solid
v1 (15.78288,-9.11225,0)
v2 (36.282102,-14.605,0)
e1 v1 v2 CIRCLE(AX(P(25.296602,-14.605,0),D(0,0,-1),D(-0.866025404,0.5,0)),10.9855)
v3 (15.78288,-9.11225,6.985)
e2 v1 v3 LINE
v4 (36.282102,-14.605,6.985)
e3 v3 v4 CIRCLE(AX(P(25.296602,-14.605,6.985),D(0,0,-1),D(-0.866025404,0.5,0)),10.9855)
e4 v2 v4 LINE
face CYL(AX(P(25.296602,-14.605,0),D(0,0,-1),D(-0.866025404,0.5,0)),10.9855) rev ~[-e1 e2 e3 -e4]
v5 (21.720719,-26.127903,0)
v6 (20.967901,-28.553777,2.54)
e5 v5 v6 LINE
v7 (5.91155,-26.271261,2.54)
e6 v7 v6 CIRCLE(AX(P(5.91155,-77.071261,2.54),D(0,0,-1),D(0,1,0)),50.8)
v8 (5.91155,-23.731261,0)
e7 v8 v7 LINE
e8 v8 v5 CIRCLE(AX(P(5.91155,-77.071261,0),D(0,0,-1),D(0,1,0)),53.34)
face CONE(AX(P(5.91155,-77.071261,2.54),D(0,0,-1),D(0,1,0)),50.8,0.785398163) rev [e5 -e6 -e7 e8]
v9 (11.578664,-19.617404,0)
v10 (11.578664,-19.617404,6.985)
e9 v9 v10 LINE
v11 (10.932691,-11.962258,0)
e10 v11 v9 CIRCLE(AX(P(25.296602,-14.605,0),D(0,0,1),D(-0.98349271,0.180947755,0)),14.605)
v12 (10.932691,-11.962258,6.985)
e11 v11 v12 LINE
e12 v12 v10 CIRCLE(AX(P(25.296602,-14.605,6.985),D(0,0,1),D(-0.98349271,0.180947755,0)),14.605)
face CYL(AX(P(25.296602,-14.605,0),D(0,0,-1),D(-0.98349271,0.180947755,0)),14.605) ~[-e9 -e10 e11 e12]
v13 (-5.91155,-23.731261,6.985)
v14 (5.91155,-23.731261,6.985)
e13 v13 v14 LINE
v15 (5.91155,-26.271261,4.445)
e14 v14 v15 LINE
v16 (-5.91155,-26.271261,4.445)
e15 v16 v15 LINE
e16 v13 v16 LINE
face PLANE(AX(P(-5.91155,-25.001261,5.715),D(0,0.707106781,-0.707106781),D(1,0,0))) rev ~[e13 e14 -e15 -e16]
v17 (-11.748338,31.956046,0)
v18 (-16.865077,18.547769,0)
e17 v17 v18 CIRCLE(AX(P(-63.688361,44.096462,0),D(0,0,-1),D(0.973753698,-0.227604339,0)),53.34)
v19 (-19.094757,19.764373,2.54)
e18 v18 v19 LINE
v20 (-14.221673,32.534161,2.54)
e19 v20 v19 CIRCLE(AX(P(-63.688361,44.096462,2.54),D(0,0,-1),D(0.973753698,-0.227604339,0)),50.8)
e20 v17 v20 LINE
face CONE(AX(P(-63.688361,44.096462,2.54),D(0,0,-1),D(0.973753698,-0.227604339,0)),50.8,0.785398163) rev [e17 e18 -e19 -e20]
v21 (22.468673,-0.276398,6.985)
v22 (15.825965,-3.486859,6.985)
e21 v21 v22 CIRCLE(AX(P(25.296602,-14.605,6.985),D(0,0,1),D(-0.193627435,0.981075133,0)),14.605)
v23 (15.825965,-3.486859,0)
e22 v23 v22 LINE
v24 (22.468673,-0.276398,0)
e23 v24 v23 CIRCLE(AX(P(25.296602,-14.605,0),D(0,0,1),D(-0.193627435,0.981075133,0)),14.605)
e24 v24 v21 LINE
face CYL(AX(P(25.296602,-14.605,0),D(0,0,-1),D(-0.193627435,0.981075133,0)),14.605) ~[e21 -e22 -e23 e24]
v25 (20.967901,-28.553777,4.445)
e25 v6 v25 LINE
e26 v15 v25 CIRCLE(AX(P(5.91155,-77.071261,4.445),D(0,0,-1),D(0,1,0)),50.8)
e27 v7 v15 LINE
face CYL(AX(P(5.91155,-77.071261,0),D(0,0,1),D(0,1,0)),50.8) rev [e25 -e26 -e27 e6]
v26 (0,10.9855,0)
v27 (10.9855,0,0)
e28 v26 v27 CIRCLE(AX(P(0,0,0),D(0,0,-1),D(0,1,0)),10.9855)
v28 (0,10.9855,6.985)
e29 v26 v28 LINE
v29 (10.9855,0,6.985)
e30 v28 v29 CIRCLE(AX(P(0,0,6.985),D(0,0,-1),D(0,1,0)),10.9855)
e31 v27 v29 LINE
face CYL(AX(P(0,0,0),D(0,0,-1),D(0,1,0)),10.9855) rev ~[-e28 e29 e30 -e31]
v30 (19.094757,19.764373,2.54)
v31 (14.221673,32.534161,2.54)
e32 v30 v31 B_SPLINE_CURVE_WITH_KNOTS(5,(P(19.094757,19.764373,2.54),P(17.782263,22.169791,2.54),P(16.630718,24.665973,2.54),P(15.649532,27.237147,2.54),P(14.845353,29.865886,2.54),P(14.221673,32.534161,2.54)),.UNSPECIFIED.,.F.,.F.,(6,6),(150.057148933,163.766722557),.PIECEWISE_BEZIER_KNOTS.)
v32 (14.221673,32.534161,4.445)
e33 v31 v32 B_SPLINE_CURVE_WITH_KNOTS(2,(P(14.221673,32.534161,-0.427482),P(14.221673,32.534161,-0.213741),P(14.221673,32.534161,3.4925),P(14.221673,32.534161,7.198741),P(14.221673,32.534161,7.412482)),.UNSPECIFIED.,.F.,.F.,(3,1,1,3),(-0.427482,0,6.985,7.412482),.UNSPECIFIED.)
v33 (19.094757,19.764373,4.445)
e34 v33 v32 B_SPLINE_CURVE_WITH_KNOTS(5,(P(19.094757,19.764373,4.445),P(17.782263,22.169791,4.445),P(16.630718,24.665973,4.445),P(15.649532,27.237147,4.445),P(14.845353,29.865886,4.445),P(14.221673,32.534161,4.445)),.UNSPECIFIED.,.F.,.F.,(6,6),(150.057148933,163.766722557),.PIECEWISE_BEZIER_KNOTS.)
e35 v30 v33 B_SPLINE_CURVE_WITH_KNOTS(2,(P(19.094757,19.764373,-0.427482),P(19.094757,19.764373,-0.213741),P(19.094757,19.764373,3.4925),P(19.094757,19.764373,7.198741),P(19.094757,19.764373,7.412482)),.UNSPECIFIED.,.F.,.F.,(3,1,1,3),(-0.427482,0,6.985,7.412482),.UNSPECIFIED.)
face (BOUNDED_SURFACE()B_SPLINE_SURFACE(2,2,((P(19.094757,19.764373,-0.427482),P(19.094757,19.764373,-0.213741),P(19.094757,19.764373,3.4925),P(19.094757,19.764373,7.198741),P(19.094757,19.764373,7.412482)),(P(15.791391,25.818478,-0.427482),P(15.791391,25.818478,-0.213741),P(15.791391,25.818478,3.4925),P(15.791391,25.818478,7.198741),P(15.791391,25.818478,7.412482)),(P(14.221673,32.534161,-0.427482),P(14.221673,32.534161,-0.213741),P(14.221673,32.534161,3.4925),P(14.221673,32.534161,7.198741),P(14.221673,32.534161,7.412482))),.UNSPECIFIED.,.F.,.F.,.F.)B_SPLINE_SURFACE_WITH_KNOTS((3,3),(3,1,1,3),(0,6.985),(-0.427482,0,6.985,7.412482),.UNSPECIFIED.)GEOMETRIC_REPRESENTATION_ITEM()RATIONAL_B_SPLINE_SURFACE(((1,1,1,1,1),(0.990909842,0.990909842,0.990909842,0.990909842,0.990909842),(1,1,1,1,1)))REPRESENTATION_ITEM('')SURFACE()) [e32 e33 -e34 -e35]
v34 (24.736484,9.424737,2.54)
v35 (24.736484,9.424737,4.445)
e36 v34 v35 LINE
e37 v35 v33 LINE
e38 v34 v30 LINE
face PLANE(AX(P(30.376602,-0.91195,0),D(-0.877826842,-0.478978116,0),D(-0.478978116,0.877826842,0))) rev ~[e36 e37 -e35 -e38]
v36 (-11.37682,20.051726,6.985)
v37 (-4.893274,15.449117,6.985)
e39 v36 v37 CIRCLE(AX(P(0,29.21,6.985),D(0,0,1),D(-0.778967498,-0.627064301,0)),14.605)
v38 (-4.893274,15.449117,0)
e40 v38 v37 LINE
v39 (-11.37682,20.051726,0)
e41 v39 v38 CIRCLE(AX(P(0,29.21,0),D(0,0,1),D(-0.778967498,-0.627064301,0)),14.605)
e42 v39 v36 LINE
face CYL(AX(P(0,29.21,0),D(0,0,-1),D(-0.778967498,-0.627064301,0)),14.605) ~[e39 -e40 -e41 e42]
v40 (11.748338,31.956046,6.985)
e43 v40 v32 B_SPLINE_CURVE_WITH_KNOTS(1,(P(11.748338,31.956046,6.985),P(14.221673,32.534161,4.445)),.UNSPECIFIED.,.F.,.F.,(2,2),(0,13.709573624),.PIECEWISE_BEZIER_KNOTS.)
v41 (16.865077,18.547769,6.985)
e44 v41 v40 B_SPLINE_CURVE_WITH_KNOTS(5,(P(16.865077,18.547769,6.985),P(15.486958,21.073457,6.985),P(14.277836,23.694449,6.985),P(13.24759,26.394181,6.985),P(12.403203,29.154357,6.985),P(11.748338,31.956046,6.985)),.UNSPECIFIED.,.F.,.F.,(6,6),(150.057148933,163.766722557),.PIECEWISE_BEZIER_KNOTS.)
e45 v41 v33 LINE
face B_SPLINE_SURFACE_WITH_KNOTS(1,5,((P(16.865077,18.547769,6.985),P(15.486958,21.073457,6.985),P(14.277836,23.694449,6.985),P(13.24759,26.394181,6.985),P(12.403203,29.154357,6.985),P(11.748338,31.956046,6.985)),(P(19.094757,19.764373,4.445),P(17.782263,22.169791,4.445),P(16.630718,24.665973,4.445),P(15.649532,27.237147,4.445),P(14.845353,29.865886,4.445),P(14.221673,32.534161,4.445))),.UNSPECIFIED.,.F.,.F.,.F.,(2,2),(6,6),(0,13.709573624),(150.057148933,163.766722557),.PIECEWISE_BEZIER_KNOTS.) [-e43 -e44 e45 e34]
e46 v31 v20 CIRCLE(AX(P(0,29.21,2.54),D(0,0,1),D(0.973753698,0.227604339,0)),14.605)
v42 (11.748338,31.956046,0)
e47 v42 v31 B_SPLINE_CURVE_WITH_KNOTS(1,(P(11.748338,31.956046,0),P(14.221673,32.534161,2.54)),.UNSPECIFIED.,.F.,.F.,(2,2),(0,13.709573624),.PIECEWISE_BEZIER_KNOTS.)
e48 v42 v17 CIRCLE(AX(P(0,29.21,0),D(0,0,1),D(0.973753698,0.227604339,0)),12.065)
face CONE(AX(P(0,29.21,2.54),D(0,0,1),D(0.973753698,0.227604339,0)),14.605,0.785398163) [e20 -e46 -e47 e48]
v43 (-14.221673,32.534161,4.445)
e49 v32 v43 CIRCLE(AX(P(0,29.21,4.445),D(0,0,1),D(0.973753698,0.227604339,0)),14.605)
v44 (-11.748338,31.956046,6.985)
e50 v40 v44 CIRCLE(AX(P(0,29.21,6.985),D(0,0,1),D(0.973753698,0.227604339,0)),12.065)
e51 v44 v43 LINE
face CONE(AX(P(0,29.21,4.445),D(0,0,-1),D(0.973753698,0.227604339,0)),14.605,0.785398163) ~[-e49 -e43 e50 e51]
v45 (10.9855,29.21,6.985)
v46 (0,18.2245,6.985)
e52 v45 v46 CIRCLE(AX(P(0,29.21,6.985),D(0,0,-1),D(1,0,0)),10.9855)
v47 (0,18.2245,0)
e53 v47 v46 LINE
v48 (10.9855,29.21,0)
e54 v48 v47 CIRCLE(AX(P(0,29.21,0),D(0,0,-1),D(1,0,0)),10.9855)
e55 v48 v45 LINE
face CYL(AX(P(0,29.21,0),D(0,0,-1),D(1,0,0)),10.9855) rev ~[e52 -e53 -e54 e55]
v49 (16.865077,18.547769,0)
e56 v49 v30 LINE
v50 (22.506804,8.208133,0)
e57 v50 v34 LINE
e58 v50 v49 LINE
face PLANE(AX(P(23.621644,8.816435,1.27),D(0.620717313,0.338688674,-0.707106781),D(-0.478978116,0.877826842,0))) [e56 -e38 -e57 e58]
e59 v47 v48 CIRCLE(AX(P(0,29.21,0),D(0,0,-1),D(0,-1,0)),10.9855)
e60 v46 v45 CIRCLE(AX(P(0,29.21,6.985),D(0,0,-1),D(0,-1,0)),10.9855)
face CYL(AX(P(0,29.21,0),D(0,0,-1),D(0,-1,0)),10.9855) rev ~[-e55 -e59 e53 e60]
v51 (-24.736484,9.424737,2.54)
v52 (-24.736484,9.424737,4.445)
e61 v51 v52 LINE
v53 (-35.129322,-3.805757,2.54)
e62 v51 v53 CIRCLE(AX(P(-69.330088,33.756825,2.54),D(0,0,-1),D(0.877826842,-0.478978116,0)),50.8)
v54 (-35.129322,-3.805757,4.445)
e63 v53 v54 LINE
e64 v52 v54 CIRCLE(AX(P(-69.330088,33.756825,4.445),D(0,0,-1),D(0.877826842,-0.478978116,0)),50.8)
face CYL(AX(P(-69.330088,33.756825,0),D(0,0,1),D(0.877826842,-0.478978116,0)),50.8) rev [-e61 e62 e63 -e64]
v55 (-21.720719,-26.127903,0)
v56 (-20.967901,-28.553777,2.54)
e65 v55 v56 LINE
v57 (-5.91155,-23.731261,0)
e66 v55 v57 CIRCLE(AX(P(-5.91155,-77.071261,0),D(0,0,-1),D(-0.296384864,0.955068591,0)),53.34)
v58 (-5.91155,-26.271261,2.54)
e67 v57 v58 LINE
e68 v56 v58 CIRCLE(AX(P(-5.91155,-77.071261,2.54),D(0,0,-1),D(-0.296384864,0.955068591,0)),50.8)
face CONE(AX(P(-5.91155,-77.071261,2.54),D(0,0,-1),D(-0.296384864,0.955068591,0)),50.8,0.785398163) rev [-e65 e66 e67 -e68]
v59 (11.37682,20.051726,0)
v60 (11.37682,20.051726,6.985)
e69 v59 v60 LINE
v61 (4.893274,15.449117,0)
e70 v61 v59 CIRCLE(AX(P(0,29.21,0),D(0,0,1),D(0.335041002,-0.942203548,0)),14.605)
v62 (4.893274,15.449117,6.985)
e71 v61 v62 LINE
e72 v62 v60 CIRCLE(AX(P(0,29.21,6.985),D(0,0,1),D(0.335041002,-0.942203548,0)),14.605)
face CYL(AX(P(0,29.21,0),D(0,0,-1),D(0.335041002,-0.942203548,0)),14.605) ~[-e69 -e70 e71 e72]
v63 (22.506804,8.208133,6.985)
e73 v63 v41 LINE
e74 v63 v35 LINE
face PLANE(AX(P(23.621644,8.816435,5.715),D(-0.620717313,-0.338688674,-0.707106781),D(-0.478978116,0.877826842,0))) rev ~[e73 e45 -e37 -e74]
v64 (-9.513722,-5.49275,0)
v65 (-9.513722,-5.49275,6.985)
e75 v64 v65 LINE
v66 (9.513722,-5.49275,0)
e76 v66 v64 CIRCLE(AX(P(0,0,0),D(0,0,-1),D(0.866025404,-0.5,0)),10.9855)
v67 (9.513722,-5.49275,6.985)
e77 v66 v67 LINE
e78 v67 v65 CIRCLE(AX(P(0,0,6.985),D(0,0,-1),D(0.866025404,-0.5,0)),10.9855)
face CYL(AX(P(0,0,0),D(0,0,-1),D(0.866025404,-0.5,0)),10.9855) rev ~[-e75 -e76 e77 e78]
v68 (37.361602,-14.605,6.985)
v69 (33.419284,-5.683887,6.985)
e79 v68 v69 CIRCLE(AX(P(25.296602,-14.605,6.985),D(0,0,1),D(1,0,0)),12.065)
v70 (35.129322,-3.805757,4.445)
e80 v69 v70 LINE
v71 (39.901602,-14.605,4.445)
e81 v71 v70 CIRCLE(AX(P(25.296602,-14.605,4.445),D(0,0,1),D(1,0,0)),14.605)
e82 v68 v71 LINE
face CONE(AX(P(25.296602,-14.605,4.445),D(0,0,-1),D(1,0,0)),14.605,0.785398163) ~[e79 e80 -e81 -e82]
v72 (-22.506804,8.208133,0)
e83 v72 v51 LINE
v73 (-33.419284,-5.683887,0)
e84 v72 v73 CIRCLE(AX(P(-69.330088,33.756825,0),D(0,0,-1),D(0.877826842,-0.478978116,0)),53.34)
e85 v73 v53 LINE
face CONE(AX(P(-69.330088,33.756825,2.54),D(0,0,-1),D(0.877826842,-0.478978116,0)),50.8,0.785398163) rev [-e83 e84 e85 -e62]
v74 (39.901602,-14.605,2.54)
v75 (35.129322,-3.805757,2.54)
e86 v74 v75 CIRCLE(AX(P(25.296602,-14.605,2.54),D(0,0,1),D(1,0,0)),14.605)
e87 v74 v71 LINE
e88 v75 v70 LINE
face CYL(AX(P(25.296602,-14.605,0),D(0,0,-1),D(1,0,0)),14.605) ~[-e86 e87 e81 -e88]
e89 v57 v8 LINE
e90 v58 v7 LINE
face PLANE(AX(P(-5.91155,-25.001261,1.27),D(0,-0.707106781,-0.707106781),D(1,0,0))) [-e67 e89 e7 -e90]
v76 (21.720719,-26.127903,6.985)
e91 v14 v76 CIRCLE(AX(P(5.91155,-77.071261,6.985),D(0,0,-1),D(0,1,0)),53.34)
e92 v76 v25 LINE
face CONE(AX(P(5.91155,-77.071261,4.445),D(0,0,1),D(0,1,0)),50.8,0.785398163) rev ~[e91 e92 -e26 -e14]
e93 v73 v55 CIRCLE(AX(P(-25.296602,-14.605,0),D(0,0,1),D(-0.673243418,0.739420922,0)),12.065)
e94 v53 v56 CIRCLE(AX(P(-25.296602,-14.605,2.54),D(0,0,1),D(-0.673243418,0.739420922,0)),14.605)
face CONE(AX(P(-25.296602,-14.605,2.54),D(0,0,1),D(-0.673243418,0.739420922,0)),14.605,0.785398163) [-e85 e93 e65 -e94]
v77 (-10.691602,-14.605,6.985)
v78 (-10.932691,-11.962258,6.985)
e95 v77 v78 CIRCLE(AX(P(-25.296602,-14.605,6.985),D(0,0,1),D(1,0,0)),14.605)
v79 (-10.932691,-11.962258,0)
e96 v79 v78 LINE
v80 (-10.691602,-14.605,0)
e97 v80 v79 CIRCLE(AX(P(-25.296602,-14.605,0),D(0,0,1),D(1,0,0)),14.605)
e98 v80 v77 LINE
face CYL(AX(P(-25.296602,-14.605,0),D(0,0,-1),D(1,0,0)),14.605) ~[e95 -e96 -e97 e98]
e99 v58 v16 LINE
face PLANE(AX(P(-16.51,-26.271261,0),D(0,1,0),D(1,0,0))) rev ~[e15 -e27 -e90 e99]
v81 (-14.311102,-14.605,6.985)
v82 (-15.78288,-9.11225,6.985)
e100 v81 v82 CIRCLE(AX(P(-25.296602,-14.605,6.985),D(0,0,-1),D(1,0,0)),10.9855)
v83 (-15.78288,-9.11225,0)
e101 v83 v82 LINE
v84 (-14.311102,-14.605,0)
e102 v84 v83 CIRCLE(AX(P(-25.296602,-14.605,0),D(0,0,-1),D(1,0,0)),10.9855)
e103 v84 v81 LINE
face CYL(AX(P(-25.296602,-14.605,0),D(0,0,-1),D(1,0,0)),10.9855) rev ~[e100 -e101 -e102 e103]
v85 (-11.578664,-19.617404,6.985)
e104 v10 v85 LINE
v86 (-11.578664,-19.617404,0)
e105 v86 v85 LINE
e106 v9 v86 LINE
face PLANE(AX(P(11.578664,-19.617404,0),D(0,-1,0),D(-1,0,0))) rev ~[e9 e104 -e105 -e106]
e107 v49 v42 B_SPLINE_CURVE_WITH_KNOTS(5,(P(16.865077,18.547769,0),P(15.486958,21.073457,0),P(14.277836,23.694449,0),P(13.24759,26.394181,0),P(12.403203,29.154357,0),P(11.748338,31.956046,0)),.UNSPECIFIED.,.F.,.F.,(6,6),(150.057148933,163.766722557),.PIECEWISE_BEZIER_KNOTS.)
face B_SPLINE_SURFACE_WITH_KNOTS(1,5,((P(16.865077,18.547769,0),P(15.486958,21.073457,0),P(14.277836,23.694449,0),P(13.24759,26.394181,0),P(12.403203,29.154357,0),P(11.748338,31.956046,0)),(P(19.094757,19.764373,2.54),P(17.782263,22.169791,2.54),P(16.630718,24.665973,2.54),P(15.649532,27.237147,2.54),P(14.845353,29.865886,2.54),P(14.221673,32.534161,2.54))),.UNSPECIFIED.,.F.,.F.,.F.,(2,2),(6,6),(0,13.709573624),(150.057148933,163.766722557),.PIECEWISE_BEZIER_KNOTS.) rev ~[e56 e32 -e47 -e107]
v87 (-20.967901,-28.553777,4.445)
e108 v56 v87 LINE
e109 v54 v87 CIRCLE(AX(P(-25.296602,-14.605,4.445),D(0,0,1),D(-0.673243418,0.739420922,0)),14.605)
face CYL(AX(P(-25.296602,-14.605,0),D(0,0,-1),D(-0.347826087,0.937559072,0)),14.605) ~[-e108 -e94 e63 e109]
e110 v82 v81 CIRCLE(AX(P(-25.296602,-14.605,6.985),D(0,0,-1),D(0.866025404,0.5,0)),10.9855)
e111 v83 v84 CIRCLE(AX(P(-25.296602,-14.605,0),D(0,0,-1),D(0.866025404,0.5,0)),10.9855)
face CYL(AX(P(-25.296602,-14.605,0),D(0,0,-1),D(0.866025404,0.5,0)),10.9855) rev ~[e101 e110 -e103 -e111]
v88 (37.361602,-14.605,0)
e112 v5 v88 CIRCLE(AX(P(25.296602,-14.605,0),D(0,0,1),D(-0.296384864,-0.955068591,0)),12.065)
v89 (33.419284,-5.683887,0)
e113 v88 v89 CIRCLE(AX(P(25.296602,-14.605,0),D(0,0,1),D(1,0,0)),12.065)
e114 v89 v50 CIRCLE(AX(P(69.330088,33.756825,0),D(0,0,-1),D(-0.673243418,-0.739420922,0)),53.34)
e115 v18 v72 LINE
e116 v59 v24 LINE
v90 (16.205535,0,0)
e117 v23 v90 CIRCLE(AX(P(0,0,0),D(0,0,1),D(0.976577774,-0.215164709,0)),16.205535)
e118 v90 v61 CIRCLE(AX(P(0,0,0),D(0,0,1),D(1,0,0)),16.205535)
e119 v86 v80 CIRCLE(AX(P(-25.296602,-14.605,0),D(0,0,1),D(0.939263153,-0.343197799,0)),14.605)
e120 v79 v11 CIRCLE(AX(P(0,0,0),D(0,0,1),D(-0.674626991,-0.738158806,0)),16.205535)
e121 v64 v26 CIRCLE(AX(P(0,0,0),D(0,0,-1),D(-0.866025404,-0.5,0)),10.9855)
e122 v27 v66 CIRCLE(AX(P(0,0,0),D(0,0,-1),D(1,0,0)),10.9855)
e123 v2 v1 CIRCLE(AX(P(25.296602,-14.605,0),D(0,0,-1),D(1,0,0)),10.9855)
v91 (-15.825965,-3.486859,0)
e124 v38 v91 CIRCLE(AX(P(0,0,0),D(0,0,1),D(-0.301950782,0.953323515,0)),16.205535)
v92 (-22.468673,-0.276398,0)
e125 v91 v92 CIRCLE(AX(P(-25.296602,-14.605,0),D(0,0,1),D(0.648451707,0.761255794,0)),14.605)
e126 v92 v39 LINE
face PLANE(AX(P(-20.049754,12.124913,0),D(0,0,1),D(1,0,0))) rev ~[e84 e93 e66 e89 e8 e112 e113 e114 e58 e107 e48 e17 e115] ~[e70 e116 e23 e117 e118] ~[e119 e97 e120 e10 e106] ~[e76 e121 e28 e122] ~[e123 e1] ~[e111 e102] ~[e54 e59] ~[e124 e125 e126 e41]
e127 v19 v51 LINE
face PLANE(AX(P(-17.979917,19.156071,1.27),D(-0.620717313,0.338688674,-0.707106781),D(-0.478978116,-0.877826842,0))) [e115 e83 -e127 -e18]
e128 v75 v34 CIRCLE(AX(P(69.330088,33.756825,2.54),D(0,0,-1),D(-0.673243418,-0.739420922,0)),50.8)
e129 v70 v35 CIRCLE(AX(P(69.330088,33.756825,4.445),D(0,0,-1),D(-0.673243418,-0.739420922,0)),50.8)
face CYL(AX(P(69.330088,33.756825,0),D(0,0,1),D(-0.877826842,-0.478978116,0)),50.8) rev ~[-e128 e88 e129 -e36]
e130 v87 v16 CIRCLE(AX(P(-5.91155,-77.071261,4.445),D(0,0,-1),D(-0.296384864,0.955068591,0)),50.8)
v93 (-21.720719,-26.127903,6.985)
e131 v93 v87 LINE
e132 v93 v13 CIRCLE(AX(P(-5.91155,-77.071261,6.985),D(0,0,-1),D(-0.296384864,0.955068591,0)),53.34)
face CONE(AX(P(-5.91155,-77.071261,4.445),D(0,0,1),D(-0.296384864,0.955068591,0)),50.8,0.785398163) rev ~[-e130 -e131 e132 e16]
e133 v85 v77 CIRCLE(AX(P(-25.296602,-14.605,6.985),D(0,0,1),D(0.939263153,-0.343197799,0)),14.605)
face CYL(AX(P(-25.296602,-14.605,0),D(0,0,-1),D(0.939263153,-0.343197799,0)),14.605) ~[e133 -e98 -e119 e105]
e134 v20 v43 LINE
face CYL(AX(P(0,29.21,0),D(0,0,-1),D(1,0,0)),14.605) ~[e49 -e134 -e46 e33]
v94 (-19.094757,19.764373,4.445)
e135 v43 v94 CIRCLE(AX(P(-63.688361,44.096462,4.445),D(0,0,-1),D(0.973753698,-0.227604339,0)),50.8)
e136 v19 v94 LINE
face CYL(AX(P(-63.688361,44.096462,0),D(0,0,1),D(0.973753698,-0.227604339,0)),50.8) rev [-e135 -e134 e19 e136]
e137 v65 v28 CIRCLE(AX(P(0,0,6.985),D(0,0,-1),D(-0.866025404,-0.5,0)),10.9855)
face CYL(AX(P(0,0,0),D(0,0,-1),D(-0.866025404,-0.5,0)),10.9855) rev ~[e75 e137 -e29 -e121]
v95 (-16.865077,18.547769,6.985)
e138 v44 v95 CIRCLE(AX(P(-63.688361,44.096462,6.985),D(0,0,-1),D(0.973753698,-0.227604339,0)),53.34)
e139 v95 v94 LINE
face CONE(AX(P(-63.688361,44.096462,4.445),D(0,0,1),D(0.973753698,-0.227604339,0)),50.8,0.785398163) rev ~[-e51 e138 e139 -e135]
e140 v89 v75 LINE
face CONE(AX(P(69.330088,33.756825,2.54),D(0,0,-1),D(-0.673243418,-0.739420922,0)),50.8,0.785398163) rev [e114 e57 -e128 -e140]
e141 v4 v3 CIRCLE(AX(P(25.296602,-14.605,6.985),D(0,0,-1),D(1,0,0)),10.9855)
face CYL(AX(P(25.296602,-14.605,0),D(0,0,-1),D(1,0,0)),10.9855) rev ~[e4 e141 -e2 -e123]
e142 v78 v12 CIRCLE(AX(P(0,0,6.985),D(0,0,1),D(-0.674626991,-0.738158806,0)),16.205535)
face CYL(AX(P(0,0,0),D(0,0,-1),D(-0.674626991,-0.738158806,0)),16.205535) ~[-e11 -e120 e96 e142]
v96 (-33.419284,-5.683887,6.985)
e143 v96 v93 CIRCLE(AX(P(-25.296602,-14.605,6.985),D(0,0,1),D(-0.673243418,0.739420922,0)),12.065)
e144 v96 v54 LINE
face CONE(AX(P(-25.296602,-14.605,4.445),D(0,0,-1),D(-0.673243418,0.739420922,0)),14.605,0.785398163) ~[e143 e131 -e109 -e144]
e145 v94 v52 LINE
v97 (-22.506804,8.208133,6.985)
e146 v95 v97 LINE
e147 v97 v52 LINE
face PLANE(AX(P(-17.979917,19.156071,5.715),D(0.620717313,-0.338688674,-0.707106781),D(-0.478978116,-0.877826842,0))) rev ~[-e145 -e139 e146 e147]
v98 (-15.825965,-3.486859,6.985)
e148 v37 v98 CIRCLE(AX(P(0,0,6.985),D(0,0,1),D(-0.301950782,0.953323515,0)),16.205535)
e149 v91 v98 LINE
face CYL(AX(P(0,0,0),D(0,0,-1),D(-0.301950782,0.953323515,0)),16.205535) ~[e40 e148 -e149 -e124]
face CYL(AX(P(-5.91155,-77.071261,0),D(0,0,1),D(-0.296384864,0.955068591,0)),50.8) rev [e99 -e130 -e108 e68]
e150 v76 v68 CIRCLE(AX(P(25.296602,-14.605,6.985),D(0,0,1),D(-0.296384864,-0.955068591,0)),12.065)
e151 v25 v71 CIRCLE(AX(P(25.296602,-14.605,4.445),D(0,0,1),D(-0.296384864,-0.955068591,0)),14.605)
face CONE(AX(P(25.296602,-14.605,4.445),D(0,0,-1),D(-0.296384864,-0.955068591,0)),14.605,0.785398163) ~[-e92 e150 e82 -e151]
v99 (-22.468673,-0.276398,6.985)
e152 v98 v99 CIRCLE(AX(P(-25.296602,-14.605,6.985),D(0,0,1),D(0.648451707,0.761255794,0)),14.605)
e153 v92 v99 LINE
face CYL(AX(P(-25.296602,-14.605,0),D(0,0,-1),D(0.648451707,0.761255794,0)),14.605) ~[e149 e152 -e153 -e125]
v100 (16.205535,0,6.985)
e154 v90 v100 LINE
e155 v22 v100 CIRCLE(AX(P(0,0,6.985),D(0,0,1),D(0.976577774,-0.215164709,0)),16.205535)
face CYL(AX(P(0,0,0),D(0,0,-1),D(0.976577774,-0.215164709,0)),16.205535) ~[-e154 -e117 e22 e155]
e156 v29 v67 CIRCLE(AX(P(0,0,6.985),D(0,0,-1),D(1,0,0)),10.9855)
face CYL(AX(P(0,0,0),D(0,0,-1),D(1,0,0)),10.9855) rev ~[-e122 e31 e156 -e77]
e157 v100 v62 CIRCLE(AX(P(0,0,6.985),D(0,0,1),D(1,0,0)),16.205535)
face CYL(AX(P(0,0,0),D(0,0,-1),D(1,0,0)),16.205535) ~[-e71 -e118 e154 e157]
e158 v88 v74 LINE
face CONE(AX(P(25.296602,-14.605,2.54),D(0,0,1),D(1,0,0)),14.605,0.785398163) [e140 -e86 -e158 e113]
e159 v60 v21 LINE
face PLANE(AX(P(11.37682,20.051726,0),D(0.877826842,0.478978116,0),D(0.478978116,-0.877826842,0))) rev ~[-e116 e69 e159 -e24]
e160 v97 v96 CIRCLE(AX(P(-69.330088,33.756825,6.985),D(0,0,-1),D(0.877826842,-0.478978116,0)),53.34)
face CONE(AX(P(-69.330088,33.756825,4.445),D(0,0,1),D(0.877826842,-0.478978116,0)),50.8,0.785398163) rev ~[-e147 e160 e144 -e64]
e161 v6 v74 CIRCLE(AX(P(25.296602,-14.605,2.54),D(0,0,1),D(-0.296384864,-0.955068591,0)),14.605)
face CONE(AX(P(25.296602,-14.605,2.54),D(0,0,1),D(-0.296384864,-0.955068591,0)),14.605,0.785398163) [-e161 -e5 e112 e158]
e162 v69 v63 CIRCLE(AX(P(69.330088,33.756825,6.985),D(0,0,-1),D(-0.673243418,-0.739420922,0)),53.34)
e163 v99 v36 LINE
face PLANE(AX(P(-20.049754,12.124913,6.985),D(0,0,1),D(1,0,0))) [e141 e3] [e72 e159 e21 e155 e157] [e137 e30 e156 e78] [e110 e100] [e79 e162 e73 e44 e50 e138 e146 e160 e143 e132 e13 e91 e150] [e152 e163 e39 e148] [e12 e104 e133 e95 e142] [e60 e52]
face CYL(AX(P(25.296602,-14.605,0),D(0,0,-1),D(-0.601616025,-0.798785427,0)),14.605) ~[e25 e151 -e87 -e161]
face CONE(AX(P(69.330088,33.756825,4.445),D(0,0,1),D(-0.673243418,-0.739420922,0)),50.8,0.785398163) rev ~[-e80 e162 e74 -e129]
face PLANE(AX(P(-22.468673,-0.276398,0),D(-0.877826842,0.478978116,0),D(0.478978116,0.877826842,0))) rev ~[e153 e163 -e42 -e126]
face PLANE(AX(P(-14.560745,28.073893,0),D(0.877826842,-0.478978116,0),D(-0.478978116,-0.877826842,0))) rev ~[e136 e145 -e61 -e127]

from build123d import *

# Parameters (mm, degrees)
F1_DEPTH = 6.985
F2_R     = 50.8
F3_SIZE  = 2.54


with BuildPart() as f1:
    # F0 (on Top) → F1 (new body)
    with BuildSketch(Plane.XY):
        with BuildLine():
            Line((-22.4686733496, -0.2763976852), (-11.3768203047, 20.0517258855))
            ThreePointArc((-11.3768203047, 20.0517258855), (-13.5749073132, 23.8222438401), (-14.5607446546, 28.0738925649))
            Line((-14.5607446546, 28.0738925649), (-30.3766020445, -0.9119497554))
            ThreePointArc((-30.3766020445, -0.9119497554), (-26.4666182407, -0.0469408196), (-22.4686733496, -0.2763976852))
        make_face()
        with BuildLine():
            ThreePointArc((14.5607446546, 28.0738925649), (13.5749073132, 23.8222438401), (11.3768203047, 20.0517258855))
            Line((11.3768203047, 20.0517258855), (22.4686733496, -0.2763976852))
            ThreePointArc((22.4686733496, -0.2763976852), (26.4666182407, -0.0469408196), (30.3766020445, -0.9119497554))
            Line((30.3766020445, -0.9119497554), (14.5607446546, 28.0738925649))
        make_face()
        with BuildLine():
            ThreePointArc((-4.8932738406, 15.4491171751), (-2.4756966767, 16.0153138069), (0, 16.2055345598))
            ThreePointArc((0, 16.2055345598), (2.4756966767, 16.0153138069), (4.8932738406, 15.4491171751))
            ThreePointArc((4.8932738406, 15.4491171751), (8.4542884153, 17.3007165459), (11.3768203047, 20.0517258855))
            ThreePointArc((11.3768203047, 20.0517258855), (13.5749073132, 23.8222438401), (14.5607446546, 28.0738925649))
            ThreePointArc((14.5607446546, 28.0738925649), (14.5939319698, 28.6415154708), (14.605, 29.21))
            ThreePointArc((14.605, 29.21), (-0.5684845292, 43.8039319698), (-14.5607446546, 28.0738925649))
            ThreePointArc((-14.5607446546, 28.0738925649), (-13.5749073132, 23.8222438401), (-11.3768203047, 20.0517258855))
            ThreePointArc((-11.3768203047, 20.0517258855), (-8.4542884153, 17.3007165459), (-4.8932738406, 15.4491171751))
        make_face()
        with BuildLine():
            ThreePointArc((10.9855, 29.21), (7.7679215447, 21.4420784553), (0, 18.2245))
            ThreePointArc((0, 18.2245), (-7.7679215447, 36.9779215447), (10.9855, 29.21))
        make_face(mode=Mode.SUBTRACT)
        with BuildLine():
            Line((0, 16.2055345598), (0, 14.605))
            ThreePointArc((0, 14.605), (2.4827737857, 14.8175763219), (4.8932738406, 15.4491171751))
            ThreePointArc((4.8932738406, 15.4491171751), (2.4756966767, 16.0153138069), (0, 16.2055345598))
        make_face()
        with BuildLine():
            ThreePointArc((-4.8932738406, 15.4491171751), (-2.4827737857, 14.8175763219), (0, 14.605))
            Line((0, 14.605), (0, 16.2055345598))
            ThreePointArc((0, 16.2055345598), (-2.4756966767, 16.0153138069), (-4.8932738406, 15.4491171751))
        make_face()
        with BuildLine():
            ThreePointArc((0, 10.9855), (7.7679215447, 7.7679215447), (10.9855, 0))
            ThreePointArc((10.9855, 0), (10.6111781647, -2.84325662), (9.5137220733, -5.49275))
            Line((9.5137220733, -5.49275), (12.6483010223, -7.3025))
            ThreePointArc((12.6483010223, -7.3025), (14.0737844102, -5.2586429907), (15.82596486, -3.4868591339))
            ThreePointArc((15.82596486, -3.4868591339), (16.1103626721, -1.7537288685), (16.2055345598, 0))
            ThreePointArc((16.2055345598, 0), (13.0751189039, 9.5739550875), (4.8932738406, 15.4491171751))
            ThreePointArc((4.8932738406, 15.4491171751), (2.4827737857, 14.8175763219), (0, 14.605))
            Line((0, 14.605), (0, 10.9855))
        make_face()
        with BuildLine():
            ThreePointArc((-9.5137220733, -5.49275), (-9.5137220733, 5.49275), (0, 10.9855))
            Line((0, 10.9855), (0, 14.605))
            ThreePointArc((0, 14.605), (-2.4827737857, 14.8175763219), (-4.8932738406, 15.4491171751))
            ThreePointArc((-4.8932738406, 15.4491171751), (-14.0344046107, 8.1027672799), (-15.82596486, -3.4868591339))
            ThreePointArc((-15.82596486, -3.4868591339), (-14.0737844102, -5.2586429907), (-12.6483010223, -7.3025))
            Line((-12.6483010223, -7.3025), (-9.5137220733, -5.49275))
        make_face()
        with BuildLine():
            Line((12.6483010223, -7.3025), (9.5137220733, -5.49275))
            ThreePointArc((9.5137220733, -5.49275), (0, -10.9855), (-9.5137220733, -5.49275))
            Line((-9.5137220733, -5.49275), (-12.6483010223, -7.3025))
            ThreePointArc((-12.6483010223, -7.3025), (-11.5910106244, -9.5589333313), (-10.9326910194, -11.9622580412))
            ThreePointArc((-10.9326910194, -11.9622580412), (0, -16.2055345598), (10.9326910194, -11.9622580412))
            ThreePointArc((10.9326910194, -11.9622580412), (11.5910106244, -9.5589333313), (12.6483010223, -7.3025))
        make_face()
        with BuildLine():
            ThreePointArc((16.51, -26.2712611625), (13.5628030503, -23.3012052737), (11.5786636953, -19.6174038591))
            Line((11.5786636953, -19.6174038591), (-11.5786636953, -19.6174038591))
            ThreePointArc((-11.5786636953, -19.6174038591), (-13.5628030503, -23.3012052737), (-16.51, -26.2712611625))
            Line((-16.51, -26.2712611625), (16.51, -26.2712611625))
        make_face()
        with BuildLine():
            ThreePointArc((-10.9326910194, -11.9622580412), (-12.6318202681, -10.1516731175), (-14.0344046107, -8.1027672799))
            ThreePointArc((-14.0344046107, -8.1027672799), (-15.1075169447, -5.8636406894), (-15.82596486, -3.4868591339))
            ThreePointArc((-15.82596486, -3.4868591339), (-18.94125419, -1.4552631719), (-22.4686733496, -0.2763976852))
            ThreePointArc((-22.4686733496, -0.2763976852), (-26.4666182407, -0.0469408196), (-30.3766020445, -0.9119497554))
            ThreePointArc((-30.3766020445, -0.9119497554), (-38.1109843332, -21.6119702127), (-16.51, -26.2712611625))
            ThreePointArc((-16.51, -26.2712611625), (-13.5628030503, -23.3012052737), (-11.5786636953, -19.6174038591))
            ThreePointArc((-11.5786636953, -19.6174038591), (-10.9150771847, -17.1501459103), (-10.6916020445, -14.605))
            ThreePointArc((-10.6916020445, -14.605), (-10.7519991706, -13.2781419674), (-10.9326910194, -11.9622580412))
        make_face()
        with BuildLine():
            ThreePointArc((-14.3111020445, -14.605), (-35.9077802092, -17.44825662), (-15.7828799713, -9.11225))
            ThreePointArc((-15.7828799713, -9.11225), (-14.6854238798, -11.76174338), (-14.3111020445, -14.605))
        make_face(mode=Mode.SUBTRACT)
        with BuildLine():
            ThreePointArc((-10.9326910194, -11.9622580412), (-11.5910106244, -9.5589333313), (-12.6483010223, -7.3025))
            Line((-12.6483010223, -7.3025), (-14.0344046107, -8.1027672799))
            ThreePointArc((-14.0344046107, -8.1027672799), (-12.6318202681, -10.1516731175), (-10.9326910194, -11.9622580412))
        make_face()
        with BuildLine():
            Line((-14.0344046107, -8.1027672799), (-12.6483010223, -7.3025))
            ThreePointArc((-12.6483010223, -7.3025), (-14.0737844102, -5.2586429907), (-15.82596486, -3.4868591339))
            ThreePointArc((-15.82596486, -3.4868591339), (-15.1075169447, -5.8636406894), (-14.0344046107, -8.1027672799))
        make_face()
        with BuildLine():
            Line((14.0344046107, -8.1027672799), (12.6483010223, -7.3025))
            ThreePointArc((12.6483010223, -7.3025), (11.5910106244, -9.5589333313), (10.9326910194, -11.9622580412))
            ThreePointArc((10.9326910194, -11.9622580412), (12.6318202681, -10.1516731175), (14.0344046107, -8.1027672799))
        make_face()
        with BuildLine():
            ThreePointArc((15.82596486, -3.4868591339), (15.1075169447, -5.8636406894), (14.0344046107, -8.1027672799))
            ThreePointArc((14.0344046107, -8.1027672799), (12.6318202681, -10.1516731175), (10.9326910194, -11.9622580412))
            ThreePointArc((10.9326910194, -11.9622580412), (10.7433247351, -15.8330653708), (11.5786636953, -19.6174038591))
            ThreePointArc((11.5786636953, -19.6174038591), (13.5628030503, -23.3012052737), (16.51, -26.2712611625))
            ThreePointArc((16.51, -26.2712611625), (31.8149493097, -27.6747044316), (39.9016020445, -14.605))
            ThreePointArc((39.9016020445, -14.605), (37.2861688632, -6.2649572843), (30.3766020445, -0.9119497554))
            ThreePointArc((30.3766020445, -0.9119497554), (26.4666182407, -0.0469408196), (22.4686733496, -0.2763976852))
            ThreePointArc((22.4686733496, -0.2763976852), (18.94125419, -1.4552631719), (15.82596486, -3.4868591339))
        make_face()
        with BuildLine():
            ThreePointArc((36.2821020445, -14.605), (22.4533454246, -25.2161781647), (15.7828799713, -9.11225))
            ThreePointArc((15.7828799713, -9.11225), (28.1398586645, -3.9938218353), (36.2821020445, -14.605))
        make_face(mode=Mode.SUBTRACT)
        with BuildLine():
            ThreePointArc((15.82596486, -3.4868591339), (14.0737844102, -5.2586429907), (12.6483010223, -7.3025))
            Line((12.6483010223, -7.3025), (14.0344046107, -8.1027672799))
            ThreePointArc((14.0344046107, -8.1027672799), (15.1075169447, -5.8636406894), (15.82596486, -3.4868591339))
        make_face()
    extrude(amount=F1_DEPTH)

    # F2
    f2_edges = [f1.edges().sort_by_distance(p)[0] for p in [
        (-14.560745, 28.073893, 3.4925),
        (-30.376602, -0.91195, 3.4925),
        (16.51, -26.271261, 3.4925),
        (-16.51, -26.271261, 3.4925),
        (14.560745, 28.073893, 3.4925),
        (30.376602, -0.91195, 3.4925),
    ]]
    fillet(f2_edges, radius=F2_R)

    # F3
    f3_edges = [f1.edges().sort_by_distance(p)[0] for p in [
        (-37.972945, -21.858713, 0),
        (-37.972945, -21.858713, 6.985),
    ]]
    chamfer(f3_edges, length=F3_SIZE)


solid = f1.part
